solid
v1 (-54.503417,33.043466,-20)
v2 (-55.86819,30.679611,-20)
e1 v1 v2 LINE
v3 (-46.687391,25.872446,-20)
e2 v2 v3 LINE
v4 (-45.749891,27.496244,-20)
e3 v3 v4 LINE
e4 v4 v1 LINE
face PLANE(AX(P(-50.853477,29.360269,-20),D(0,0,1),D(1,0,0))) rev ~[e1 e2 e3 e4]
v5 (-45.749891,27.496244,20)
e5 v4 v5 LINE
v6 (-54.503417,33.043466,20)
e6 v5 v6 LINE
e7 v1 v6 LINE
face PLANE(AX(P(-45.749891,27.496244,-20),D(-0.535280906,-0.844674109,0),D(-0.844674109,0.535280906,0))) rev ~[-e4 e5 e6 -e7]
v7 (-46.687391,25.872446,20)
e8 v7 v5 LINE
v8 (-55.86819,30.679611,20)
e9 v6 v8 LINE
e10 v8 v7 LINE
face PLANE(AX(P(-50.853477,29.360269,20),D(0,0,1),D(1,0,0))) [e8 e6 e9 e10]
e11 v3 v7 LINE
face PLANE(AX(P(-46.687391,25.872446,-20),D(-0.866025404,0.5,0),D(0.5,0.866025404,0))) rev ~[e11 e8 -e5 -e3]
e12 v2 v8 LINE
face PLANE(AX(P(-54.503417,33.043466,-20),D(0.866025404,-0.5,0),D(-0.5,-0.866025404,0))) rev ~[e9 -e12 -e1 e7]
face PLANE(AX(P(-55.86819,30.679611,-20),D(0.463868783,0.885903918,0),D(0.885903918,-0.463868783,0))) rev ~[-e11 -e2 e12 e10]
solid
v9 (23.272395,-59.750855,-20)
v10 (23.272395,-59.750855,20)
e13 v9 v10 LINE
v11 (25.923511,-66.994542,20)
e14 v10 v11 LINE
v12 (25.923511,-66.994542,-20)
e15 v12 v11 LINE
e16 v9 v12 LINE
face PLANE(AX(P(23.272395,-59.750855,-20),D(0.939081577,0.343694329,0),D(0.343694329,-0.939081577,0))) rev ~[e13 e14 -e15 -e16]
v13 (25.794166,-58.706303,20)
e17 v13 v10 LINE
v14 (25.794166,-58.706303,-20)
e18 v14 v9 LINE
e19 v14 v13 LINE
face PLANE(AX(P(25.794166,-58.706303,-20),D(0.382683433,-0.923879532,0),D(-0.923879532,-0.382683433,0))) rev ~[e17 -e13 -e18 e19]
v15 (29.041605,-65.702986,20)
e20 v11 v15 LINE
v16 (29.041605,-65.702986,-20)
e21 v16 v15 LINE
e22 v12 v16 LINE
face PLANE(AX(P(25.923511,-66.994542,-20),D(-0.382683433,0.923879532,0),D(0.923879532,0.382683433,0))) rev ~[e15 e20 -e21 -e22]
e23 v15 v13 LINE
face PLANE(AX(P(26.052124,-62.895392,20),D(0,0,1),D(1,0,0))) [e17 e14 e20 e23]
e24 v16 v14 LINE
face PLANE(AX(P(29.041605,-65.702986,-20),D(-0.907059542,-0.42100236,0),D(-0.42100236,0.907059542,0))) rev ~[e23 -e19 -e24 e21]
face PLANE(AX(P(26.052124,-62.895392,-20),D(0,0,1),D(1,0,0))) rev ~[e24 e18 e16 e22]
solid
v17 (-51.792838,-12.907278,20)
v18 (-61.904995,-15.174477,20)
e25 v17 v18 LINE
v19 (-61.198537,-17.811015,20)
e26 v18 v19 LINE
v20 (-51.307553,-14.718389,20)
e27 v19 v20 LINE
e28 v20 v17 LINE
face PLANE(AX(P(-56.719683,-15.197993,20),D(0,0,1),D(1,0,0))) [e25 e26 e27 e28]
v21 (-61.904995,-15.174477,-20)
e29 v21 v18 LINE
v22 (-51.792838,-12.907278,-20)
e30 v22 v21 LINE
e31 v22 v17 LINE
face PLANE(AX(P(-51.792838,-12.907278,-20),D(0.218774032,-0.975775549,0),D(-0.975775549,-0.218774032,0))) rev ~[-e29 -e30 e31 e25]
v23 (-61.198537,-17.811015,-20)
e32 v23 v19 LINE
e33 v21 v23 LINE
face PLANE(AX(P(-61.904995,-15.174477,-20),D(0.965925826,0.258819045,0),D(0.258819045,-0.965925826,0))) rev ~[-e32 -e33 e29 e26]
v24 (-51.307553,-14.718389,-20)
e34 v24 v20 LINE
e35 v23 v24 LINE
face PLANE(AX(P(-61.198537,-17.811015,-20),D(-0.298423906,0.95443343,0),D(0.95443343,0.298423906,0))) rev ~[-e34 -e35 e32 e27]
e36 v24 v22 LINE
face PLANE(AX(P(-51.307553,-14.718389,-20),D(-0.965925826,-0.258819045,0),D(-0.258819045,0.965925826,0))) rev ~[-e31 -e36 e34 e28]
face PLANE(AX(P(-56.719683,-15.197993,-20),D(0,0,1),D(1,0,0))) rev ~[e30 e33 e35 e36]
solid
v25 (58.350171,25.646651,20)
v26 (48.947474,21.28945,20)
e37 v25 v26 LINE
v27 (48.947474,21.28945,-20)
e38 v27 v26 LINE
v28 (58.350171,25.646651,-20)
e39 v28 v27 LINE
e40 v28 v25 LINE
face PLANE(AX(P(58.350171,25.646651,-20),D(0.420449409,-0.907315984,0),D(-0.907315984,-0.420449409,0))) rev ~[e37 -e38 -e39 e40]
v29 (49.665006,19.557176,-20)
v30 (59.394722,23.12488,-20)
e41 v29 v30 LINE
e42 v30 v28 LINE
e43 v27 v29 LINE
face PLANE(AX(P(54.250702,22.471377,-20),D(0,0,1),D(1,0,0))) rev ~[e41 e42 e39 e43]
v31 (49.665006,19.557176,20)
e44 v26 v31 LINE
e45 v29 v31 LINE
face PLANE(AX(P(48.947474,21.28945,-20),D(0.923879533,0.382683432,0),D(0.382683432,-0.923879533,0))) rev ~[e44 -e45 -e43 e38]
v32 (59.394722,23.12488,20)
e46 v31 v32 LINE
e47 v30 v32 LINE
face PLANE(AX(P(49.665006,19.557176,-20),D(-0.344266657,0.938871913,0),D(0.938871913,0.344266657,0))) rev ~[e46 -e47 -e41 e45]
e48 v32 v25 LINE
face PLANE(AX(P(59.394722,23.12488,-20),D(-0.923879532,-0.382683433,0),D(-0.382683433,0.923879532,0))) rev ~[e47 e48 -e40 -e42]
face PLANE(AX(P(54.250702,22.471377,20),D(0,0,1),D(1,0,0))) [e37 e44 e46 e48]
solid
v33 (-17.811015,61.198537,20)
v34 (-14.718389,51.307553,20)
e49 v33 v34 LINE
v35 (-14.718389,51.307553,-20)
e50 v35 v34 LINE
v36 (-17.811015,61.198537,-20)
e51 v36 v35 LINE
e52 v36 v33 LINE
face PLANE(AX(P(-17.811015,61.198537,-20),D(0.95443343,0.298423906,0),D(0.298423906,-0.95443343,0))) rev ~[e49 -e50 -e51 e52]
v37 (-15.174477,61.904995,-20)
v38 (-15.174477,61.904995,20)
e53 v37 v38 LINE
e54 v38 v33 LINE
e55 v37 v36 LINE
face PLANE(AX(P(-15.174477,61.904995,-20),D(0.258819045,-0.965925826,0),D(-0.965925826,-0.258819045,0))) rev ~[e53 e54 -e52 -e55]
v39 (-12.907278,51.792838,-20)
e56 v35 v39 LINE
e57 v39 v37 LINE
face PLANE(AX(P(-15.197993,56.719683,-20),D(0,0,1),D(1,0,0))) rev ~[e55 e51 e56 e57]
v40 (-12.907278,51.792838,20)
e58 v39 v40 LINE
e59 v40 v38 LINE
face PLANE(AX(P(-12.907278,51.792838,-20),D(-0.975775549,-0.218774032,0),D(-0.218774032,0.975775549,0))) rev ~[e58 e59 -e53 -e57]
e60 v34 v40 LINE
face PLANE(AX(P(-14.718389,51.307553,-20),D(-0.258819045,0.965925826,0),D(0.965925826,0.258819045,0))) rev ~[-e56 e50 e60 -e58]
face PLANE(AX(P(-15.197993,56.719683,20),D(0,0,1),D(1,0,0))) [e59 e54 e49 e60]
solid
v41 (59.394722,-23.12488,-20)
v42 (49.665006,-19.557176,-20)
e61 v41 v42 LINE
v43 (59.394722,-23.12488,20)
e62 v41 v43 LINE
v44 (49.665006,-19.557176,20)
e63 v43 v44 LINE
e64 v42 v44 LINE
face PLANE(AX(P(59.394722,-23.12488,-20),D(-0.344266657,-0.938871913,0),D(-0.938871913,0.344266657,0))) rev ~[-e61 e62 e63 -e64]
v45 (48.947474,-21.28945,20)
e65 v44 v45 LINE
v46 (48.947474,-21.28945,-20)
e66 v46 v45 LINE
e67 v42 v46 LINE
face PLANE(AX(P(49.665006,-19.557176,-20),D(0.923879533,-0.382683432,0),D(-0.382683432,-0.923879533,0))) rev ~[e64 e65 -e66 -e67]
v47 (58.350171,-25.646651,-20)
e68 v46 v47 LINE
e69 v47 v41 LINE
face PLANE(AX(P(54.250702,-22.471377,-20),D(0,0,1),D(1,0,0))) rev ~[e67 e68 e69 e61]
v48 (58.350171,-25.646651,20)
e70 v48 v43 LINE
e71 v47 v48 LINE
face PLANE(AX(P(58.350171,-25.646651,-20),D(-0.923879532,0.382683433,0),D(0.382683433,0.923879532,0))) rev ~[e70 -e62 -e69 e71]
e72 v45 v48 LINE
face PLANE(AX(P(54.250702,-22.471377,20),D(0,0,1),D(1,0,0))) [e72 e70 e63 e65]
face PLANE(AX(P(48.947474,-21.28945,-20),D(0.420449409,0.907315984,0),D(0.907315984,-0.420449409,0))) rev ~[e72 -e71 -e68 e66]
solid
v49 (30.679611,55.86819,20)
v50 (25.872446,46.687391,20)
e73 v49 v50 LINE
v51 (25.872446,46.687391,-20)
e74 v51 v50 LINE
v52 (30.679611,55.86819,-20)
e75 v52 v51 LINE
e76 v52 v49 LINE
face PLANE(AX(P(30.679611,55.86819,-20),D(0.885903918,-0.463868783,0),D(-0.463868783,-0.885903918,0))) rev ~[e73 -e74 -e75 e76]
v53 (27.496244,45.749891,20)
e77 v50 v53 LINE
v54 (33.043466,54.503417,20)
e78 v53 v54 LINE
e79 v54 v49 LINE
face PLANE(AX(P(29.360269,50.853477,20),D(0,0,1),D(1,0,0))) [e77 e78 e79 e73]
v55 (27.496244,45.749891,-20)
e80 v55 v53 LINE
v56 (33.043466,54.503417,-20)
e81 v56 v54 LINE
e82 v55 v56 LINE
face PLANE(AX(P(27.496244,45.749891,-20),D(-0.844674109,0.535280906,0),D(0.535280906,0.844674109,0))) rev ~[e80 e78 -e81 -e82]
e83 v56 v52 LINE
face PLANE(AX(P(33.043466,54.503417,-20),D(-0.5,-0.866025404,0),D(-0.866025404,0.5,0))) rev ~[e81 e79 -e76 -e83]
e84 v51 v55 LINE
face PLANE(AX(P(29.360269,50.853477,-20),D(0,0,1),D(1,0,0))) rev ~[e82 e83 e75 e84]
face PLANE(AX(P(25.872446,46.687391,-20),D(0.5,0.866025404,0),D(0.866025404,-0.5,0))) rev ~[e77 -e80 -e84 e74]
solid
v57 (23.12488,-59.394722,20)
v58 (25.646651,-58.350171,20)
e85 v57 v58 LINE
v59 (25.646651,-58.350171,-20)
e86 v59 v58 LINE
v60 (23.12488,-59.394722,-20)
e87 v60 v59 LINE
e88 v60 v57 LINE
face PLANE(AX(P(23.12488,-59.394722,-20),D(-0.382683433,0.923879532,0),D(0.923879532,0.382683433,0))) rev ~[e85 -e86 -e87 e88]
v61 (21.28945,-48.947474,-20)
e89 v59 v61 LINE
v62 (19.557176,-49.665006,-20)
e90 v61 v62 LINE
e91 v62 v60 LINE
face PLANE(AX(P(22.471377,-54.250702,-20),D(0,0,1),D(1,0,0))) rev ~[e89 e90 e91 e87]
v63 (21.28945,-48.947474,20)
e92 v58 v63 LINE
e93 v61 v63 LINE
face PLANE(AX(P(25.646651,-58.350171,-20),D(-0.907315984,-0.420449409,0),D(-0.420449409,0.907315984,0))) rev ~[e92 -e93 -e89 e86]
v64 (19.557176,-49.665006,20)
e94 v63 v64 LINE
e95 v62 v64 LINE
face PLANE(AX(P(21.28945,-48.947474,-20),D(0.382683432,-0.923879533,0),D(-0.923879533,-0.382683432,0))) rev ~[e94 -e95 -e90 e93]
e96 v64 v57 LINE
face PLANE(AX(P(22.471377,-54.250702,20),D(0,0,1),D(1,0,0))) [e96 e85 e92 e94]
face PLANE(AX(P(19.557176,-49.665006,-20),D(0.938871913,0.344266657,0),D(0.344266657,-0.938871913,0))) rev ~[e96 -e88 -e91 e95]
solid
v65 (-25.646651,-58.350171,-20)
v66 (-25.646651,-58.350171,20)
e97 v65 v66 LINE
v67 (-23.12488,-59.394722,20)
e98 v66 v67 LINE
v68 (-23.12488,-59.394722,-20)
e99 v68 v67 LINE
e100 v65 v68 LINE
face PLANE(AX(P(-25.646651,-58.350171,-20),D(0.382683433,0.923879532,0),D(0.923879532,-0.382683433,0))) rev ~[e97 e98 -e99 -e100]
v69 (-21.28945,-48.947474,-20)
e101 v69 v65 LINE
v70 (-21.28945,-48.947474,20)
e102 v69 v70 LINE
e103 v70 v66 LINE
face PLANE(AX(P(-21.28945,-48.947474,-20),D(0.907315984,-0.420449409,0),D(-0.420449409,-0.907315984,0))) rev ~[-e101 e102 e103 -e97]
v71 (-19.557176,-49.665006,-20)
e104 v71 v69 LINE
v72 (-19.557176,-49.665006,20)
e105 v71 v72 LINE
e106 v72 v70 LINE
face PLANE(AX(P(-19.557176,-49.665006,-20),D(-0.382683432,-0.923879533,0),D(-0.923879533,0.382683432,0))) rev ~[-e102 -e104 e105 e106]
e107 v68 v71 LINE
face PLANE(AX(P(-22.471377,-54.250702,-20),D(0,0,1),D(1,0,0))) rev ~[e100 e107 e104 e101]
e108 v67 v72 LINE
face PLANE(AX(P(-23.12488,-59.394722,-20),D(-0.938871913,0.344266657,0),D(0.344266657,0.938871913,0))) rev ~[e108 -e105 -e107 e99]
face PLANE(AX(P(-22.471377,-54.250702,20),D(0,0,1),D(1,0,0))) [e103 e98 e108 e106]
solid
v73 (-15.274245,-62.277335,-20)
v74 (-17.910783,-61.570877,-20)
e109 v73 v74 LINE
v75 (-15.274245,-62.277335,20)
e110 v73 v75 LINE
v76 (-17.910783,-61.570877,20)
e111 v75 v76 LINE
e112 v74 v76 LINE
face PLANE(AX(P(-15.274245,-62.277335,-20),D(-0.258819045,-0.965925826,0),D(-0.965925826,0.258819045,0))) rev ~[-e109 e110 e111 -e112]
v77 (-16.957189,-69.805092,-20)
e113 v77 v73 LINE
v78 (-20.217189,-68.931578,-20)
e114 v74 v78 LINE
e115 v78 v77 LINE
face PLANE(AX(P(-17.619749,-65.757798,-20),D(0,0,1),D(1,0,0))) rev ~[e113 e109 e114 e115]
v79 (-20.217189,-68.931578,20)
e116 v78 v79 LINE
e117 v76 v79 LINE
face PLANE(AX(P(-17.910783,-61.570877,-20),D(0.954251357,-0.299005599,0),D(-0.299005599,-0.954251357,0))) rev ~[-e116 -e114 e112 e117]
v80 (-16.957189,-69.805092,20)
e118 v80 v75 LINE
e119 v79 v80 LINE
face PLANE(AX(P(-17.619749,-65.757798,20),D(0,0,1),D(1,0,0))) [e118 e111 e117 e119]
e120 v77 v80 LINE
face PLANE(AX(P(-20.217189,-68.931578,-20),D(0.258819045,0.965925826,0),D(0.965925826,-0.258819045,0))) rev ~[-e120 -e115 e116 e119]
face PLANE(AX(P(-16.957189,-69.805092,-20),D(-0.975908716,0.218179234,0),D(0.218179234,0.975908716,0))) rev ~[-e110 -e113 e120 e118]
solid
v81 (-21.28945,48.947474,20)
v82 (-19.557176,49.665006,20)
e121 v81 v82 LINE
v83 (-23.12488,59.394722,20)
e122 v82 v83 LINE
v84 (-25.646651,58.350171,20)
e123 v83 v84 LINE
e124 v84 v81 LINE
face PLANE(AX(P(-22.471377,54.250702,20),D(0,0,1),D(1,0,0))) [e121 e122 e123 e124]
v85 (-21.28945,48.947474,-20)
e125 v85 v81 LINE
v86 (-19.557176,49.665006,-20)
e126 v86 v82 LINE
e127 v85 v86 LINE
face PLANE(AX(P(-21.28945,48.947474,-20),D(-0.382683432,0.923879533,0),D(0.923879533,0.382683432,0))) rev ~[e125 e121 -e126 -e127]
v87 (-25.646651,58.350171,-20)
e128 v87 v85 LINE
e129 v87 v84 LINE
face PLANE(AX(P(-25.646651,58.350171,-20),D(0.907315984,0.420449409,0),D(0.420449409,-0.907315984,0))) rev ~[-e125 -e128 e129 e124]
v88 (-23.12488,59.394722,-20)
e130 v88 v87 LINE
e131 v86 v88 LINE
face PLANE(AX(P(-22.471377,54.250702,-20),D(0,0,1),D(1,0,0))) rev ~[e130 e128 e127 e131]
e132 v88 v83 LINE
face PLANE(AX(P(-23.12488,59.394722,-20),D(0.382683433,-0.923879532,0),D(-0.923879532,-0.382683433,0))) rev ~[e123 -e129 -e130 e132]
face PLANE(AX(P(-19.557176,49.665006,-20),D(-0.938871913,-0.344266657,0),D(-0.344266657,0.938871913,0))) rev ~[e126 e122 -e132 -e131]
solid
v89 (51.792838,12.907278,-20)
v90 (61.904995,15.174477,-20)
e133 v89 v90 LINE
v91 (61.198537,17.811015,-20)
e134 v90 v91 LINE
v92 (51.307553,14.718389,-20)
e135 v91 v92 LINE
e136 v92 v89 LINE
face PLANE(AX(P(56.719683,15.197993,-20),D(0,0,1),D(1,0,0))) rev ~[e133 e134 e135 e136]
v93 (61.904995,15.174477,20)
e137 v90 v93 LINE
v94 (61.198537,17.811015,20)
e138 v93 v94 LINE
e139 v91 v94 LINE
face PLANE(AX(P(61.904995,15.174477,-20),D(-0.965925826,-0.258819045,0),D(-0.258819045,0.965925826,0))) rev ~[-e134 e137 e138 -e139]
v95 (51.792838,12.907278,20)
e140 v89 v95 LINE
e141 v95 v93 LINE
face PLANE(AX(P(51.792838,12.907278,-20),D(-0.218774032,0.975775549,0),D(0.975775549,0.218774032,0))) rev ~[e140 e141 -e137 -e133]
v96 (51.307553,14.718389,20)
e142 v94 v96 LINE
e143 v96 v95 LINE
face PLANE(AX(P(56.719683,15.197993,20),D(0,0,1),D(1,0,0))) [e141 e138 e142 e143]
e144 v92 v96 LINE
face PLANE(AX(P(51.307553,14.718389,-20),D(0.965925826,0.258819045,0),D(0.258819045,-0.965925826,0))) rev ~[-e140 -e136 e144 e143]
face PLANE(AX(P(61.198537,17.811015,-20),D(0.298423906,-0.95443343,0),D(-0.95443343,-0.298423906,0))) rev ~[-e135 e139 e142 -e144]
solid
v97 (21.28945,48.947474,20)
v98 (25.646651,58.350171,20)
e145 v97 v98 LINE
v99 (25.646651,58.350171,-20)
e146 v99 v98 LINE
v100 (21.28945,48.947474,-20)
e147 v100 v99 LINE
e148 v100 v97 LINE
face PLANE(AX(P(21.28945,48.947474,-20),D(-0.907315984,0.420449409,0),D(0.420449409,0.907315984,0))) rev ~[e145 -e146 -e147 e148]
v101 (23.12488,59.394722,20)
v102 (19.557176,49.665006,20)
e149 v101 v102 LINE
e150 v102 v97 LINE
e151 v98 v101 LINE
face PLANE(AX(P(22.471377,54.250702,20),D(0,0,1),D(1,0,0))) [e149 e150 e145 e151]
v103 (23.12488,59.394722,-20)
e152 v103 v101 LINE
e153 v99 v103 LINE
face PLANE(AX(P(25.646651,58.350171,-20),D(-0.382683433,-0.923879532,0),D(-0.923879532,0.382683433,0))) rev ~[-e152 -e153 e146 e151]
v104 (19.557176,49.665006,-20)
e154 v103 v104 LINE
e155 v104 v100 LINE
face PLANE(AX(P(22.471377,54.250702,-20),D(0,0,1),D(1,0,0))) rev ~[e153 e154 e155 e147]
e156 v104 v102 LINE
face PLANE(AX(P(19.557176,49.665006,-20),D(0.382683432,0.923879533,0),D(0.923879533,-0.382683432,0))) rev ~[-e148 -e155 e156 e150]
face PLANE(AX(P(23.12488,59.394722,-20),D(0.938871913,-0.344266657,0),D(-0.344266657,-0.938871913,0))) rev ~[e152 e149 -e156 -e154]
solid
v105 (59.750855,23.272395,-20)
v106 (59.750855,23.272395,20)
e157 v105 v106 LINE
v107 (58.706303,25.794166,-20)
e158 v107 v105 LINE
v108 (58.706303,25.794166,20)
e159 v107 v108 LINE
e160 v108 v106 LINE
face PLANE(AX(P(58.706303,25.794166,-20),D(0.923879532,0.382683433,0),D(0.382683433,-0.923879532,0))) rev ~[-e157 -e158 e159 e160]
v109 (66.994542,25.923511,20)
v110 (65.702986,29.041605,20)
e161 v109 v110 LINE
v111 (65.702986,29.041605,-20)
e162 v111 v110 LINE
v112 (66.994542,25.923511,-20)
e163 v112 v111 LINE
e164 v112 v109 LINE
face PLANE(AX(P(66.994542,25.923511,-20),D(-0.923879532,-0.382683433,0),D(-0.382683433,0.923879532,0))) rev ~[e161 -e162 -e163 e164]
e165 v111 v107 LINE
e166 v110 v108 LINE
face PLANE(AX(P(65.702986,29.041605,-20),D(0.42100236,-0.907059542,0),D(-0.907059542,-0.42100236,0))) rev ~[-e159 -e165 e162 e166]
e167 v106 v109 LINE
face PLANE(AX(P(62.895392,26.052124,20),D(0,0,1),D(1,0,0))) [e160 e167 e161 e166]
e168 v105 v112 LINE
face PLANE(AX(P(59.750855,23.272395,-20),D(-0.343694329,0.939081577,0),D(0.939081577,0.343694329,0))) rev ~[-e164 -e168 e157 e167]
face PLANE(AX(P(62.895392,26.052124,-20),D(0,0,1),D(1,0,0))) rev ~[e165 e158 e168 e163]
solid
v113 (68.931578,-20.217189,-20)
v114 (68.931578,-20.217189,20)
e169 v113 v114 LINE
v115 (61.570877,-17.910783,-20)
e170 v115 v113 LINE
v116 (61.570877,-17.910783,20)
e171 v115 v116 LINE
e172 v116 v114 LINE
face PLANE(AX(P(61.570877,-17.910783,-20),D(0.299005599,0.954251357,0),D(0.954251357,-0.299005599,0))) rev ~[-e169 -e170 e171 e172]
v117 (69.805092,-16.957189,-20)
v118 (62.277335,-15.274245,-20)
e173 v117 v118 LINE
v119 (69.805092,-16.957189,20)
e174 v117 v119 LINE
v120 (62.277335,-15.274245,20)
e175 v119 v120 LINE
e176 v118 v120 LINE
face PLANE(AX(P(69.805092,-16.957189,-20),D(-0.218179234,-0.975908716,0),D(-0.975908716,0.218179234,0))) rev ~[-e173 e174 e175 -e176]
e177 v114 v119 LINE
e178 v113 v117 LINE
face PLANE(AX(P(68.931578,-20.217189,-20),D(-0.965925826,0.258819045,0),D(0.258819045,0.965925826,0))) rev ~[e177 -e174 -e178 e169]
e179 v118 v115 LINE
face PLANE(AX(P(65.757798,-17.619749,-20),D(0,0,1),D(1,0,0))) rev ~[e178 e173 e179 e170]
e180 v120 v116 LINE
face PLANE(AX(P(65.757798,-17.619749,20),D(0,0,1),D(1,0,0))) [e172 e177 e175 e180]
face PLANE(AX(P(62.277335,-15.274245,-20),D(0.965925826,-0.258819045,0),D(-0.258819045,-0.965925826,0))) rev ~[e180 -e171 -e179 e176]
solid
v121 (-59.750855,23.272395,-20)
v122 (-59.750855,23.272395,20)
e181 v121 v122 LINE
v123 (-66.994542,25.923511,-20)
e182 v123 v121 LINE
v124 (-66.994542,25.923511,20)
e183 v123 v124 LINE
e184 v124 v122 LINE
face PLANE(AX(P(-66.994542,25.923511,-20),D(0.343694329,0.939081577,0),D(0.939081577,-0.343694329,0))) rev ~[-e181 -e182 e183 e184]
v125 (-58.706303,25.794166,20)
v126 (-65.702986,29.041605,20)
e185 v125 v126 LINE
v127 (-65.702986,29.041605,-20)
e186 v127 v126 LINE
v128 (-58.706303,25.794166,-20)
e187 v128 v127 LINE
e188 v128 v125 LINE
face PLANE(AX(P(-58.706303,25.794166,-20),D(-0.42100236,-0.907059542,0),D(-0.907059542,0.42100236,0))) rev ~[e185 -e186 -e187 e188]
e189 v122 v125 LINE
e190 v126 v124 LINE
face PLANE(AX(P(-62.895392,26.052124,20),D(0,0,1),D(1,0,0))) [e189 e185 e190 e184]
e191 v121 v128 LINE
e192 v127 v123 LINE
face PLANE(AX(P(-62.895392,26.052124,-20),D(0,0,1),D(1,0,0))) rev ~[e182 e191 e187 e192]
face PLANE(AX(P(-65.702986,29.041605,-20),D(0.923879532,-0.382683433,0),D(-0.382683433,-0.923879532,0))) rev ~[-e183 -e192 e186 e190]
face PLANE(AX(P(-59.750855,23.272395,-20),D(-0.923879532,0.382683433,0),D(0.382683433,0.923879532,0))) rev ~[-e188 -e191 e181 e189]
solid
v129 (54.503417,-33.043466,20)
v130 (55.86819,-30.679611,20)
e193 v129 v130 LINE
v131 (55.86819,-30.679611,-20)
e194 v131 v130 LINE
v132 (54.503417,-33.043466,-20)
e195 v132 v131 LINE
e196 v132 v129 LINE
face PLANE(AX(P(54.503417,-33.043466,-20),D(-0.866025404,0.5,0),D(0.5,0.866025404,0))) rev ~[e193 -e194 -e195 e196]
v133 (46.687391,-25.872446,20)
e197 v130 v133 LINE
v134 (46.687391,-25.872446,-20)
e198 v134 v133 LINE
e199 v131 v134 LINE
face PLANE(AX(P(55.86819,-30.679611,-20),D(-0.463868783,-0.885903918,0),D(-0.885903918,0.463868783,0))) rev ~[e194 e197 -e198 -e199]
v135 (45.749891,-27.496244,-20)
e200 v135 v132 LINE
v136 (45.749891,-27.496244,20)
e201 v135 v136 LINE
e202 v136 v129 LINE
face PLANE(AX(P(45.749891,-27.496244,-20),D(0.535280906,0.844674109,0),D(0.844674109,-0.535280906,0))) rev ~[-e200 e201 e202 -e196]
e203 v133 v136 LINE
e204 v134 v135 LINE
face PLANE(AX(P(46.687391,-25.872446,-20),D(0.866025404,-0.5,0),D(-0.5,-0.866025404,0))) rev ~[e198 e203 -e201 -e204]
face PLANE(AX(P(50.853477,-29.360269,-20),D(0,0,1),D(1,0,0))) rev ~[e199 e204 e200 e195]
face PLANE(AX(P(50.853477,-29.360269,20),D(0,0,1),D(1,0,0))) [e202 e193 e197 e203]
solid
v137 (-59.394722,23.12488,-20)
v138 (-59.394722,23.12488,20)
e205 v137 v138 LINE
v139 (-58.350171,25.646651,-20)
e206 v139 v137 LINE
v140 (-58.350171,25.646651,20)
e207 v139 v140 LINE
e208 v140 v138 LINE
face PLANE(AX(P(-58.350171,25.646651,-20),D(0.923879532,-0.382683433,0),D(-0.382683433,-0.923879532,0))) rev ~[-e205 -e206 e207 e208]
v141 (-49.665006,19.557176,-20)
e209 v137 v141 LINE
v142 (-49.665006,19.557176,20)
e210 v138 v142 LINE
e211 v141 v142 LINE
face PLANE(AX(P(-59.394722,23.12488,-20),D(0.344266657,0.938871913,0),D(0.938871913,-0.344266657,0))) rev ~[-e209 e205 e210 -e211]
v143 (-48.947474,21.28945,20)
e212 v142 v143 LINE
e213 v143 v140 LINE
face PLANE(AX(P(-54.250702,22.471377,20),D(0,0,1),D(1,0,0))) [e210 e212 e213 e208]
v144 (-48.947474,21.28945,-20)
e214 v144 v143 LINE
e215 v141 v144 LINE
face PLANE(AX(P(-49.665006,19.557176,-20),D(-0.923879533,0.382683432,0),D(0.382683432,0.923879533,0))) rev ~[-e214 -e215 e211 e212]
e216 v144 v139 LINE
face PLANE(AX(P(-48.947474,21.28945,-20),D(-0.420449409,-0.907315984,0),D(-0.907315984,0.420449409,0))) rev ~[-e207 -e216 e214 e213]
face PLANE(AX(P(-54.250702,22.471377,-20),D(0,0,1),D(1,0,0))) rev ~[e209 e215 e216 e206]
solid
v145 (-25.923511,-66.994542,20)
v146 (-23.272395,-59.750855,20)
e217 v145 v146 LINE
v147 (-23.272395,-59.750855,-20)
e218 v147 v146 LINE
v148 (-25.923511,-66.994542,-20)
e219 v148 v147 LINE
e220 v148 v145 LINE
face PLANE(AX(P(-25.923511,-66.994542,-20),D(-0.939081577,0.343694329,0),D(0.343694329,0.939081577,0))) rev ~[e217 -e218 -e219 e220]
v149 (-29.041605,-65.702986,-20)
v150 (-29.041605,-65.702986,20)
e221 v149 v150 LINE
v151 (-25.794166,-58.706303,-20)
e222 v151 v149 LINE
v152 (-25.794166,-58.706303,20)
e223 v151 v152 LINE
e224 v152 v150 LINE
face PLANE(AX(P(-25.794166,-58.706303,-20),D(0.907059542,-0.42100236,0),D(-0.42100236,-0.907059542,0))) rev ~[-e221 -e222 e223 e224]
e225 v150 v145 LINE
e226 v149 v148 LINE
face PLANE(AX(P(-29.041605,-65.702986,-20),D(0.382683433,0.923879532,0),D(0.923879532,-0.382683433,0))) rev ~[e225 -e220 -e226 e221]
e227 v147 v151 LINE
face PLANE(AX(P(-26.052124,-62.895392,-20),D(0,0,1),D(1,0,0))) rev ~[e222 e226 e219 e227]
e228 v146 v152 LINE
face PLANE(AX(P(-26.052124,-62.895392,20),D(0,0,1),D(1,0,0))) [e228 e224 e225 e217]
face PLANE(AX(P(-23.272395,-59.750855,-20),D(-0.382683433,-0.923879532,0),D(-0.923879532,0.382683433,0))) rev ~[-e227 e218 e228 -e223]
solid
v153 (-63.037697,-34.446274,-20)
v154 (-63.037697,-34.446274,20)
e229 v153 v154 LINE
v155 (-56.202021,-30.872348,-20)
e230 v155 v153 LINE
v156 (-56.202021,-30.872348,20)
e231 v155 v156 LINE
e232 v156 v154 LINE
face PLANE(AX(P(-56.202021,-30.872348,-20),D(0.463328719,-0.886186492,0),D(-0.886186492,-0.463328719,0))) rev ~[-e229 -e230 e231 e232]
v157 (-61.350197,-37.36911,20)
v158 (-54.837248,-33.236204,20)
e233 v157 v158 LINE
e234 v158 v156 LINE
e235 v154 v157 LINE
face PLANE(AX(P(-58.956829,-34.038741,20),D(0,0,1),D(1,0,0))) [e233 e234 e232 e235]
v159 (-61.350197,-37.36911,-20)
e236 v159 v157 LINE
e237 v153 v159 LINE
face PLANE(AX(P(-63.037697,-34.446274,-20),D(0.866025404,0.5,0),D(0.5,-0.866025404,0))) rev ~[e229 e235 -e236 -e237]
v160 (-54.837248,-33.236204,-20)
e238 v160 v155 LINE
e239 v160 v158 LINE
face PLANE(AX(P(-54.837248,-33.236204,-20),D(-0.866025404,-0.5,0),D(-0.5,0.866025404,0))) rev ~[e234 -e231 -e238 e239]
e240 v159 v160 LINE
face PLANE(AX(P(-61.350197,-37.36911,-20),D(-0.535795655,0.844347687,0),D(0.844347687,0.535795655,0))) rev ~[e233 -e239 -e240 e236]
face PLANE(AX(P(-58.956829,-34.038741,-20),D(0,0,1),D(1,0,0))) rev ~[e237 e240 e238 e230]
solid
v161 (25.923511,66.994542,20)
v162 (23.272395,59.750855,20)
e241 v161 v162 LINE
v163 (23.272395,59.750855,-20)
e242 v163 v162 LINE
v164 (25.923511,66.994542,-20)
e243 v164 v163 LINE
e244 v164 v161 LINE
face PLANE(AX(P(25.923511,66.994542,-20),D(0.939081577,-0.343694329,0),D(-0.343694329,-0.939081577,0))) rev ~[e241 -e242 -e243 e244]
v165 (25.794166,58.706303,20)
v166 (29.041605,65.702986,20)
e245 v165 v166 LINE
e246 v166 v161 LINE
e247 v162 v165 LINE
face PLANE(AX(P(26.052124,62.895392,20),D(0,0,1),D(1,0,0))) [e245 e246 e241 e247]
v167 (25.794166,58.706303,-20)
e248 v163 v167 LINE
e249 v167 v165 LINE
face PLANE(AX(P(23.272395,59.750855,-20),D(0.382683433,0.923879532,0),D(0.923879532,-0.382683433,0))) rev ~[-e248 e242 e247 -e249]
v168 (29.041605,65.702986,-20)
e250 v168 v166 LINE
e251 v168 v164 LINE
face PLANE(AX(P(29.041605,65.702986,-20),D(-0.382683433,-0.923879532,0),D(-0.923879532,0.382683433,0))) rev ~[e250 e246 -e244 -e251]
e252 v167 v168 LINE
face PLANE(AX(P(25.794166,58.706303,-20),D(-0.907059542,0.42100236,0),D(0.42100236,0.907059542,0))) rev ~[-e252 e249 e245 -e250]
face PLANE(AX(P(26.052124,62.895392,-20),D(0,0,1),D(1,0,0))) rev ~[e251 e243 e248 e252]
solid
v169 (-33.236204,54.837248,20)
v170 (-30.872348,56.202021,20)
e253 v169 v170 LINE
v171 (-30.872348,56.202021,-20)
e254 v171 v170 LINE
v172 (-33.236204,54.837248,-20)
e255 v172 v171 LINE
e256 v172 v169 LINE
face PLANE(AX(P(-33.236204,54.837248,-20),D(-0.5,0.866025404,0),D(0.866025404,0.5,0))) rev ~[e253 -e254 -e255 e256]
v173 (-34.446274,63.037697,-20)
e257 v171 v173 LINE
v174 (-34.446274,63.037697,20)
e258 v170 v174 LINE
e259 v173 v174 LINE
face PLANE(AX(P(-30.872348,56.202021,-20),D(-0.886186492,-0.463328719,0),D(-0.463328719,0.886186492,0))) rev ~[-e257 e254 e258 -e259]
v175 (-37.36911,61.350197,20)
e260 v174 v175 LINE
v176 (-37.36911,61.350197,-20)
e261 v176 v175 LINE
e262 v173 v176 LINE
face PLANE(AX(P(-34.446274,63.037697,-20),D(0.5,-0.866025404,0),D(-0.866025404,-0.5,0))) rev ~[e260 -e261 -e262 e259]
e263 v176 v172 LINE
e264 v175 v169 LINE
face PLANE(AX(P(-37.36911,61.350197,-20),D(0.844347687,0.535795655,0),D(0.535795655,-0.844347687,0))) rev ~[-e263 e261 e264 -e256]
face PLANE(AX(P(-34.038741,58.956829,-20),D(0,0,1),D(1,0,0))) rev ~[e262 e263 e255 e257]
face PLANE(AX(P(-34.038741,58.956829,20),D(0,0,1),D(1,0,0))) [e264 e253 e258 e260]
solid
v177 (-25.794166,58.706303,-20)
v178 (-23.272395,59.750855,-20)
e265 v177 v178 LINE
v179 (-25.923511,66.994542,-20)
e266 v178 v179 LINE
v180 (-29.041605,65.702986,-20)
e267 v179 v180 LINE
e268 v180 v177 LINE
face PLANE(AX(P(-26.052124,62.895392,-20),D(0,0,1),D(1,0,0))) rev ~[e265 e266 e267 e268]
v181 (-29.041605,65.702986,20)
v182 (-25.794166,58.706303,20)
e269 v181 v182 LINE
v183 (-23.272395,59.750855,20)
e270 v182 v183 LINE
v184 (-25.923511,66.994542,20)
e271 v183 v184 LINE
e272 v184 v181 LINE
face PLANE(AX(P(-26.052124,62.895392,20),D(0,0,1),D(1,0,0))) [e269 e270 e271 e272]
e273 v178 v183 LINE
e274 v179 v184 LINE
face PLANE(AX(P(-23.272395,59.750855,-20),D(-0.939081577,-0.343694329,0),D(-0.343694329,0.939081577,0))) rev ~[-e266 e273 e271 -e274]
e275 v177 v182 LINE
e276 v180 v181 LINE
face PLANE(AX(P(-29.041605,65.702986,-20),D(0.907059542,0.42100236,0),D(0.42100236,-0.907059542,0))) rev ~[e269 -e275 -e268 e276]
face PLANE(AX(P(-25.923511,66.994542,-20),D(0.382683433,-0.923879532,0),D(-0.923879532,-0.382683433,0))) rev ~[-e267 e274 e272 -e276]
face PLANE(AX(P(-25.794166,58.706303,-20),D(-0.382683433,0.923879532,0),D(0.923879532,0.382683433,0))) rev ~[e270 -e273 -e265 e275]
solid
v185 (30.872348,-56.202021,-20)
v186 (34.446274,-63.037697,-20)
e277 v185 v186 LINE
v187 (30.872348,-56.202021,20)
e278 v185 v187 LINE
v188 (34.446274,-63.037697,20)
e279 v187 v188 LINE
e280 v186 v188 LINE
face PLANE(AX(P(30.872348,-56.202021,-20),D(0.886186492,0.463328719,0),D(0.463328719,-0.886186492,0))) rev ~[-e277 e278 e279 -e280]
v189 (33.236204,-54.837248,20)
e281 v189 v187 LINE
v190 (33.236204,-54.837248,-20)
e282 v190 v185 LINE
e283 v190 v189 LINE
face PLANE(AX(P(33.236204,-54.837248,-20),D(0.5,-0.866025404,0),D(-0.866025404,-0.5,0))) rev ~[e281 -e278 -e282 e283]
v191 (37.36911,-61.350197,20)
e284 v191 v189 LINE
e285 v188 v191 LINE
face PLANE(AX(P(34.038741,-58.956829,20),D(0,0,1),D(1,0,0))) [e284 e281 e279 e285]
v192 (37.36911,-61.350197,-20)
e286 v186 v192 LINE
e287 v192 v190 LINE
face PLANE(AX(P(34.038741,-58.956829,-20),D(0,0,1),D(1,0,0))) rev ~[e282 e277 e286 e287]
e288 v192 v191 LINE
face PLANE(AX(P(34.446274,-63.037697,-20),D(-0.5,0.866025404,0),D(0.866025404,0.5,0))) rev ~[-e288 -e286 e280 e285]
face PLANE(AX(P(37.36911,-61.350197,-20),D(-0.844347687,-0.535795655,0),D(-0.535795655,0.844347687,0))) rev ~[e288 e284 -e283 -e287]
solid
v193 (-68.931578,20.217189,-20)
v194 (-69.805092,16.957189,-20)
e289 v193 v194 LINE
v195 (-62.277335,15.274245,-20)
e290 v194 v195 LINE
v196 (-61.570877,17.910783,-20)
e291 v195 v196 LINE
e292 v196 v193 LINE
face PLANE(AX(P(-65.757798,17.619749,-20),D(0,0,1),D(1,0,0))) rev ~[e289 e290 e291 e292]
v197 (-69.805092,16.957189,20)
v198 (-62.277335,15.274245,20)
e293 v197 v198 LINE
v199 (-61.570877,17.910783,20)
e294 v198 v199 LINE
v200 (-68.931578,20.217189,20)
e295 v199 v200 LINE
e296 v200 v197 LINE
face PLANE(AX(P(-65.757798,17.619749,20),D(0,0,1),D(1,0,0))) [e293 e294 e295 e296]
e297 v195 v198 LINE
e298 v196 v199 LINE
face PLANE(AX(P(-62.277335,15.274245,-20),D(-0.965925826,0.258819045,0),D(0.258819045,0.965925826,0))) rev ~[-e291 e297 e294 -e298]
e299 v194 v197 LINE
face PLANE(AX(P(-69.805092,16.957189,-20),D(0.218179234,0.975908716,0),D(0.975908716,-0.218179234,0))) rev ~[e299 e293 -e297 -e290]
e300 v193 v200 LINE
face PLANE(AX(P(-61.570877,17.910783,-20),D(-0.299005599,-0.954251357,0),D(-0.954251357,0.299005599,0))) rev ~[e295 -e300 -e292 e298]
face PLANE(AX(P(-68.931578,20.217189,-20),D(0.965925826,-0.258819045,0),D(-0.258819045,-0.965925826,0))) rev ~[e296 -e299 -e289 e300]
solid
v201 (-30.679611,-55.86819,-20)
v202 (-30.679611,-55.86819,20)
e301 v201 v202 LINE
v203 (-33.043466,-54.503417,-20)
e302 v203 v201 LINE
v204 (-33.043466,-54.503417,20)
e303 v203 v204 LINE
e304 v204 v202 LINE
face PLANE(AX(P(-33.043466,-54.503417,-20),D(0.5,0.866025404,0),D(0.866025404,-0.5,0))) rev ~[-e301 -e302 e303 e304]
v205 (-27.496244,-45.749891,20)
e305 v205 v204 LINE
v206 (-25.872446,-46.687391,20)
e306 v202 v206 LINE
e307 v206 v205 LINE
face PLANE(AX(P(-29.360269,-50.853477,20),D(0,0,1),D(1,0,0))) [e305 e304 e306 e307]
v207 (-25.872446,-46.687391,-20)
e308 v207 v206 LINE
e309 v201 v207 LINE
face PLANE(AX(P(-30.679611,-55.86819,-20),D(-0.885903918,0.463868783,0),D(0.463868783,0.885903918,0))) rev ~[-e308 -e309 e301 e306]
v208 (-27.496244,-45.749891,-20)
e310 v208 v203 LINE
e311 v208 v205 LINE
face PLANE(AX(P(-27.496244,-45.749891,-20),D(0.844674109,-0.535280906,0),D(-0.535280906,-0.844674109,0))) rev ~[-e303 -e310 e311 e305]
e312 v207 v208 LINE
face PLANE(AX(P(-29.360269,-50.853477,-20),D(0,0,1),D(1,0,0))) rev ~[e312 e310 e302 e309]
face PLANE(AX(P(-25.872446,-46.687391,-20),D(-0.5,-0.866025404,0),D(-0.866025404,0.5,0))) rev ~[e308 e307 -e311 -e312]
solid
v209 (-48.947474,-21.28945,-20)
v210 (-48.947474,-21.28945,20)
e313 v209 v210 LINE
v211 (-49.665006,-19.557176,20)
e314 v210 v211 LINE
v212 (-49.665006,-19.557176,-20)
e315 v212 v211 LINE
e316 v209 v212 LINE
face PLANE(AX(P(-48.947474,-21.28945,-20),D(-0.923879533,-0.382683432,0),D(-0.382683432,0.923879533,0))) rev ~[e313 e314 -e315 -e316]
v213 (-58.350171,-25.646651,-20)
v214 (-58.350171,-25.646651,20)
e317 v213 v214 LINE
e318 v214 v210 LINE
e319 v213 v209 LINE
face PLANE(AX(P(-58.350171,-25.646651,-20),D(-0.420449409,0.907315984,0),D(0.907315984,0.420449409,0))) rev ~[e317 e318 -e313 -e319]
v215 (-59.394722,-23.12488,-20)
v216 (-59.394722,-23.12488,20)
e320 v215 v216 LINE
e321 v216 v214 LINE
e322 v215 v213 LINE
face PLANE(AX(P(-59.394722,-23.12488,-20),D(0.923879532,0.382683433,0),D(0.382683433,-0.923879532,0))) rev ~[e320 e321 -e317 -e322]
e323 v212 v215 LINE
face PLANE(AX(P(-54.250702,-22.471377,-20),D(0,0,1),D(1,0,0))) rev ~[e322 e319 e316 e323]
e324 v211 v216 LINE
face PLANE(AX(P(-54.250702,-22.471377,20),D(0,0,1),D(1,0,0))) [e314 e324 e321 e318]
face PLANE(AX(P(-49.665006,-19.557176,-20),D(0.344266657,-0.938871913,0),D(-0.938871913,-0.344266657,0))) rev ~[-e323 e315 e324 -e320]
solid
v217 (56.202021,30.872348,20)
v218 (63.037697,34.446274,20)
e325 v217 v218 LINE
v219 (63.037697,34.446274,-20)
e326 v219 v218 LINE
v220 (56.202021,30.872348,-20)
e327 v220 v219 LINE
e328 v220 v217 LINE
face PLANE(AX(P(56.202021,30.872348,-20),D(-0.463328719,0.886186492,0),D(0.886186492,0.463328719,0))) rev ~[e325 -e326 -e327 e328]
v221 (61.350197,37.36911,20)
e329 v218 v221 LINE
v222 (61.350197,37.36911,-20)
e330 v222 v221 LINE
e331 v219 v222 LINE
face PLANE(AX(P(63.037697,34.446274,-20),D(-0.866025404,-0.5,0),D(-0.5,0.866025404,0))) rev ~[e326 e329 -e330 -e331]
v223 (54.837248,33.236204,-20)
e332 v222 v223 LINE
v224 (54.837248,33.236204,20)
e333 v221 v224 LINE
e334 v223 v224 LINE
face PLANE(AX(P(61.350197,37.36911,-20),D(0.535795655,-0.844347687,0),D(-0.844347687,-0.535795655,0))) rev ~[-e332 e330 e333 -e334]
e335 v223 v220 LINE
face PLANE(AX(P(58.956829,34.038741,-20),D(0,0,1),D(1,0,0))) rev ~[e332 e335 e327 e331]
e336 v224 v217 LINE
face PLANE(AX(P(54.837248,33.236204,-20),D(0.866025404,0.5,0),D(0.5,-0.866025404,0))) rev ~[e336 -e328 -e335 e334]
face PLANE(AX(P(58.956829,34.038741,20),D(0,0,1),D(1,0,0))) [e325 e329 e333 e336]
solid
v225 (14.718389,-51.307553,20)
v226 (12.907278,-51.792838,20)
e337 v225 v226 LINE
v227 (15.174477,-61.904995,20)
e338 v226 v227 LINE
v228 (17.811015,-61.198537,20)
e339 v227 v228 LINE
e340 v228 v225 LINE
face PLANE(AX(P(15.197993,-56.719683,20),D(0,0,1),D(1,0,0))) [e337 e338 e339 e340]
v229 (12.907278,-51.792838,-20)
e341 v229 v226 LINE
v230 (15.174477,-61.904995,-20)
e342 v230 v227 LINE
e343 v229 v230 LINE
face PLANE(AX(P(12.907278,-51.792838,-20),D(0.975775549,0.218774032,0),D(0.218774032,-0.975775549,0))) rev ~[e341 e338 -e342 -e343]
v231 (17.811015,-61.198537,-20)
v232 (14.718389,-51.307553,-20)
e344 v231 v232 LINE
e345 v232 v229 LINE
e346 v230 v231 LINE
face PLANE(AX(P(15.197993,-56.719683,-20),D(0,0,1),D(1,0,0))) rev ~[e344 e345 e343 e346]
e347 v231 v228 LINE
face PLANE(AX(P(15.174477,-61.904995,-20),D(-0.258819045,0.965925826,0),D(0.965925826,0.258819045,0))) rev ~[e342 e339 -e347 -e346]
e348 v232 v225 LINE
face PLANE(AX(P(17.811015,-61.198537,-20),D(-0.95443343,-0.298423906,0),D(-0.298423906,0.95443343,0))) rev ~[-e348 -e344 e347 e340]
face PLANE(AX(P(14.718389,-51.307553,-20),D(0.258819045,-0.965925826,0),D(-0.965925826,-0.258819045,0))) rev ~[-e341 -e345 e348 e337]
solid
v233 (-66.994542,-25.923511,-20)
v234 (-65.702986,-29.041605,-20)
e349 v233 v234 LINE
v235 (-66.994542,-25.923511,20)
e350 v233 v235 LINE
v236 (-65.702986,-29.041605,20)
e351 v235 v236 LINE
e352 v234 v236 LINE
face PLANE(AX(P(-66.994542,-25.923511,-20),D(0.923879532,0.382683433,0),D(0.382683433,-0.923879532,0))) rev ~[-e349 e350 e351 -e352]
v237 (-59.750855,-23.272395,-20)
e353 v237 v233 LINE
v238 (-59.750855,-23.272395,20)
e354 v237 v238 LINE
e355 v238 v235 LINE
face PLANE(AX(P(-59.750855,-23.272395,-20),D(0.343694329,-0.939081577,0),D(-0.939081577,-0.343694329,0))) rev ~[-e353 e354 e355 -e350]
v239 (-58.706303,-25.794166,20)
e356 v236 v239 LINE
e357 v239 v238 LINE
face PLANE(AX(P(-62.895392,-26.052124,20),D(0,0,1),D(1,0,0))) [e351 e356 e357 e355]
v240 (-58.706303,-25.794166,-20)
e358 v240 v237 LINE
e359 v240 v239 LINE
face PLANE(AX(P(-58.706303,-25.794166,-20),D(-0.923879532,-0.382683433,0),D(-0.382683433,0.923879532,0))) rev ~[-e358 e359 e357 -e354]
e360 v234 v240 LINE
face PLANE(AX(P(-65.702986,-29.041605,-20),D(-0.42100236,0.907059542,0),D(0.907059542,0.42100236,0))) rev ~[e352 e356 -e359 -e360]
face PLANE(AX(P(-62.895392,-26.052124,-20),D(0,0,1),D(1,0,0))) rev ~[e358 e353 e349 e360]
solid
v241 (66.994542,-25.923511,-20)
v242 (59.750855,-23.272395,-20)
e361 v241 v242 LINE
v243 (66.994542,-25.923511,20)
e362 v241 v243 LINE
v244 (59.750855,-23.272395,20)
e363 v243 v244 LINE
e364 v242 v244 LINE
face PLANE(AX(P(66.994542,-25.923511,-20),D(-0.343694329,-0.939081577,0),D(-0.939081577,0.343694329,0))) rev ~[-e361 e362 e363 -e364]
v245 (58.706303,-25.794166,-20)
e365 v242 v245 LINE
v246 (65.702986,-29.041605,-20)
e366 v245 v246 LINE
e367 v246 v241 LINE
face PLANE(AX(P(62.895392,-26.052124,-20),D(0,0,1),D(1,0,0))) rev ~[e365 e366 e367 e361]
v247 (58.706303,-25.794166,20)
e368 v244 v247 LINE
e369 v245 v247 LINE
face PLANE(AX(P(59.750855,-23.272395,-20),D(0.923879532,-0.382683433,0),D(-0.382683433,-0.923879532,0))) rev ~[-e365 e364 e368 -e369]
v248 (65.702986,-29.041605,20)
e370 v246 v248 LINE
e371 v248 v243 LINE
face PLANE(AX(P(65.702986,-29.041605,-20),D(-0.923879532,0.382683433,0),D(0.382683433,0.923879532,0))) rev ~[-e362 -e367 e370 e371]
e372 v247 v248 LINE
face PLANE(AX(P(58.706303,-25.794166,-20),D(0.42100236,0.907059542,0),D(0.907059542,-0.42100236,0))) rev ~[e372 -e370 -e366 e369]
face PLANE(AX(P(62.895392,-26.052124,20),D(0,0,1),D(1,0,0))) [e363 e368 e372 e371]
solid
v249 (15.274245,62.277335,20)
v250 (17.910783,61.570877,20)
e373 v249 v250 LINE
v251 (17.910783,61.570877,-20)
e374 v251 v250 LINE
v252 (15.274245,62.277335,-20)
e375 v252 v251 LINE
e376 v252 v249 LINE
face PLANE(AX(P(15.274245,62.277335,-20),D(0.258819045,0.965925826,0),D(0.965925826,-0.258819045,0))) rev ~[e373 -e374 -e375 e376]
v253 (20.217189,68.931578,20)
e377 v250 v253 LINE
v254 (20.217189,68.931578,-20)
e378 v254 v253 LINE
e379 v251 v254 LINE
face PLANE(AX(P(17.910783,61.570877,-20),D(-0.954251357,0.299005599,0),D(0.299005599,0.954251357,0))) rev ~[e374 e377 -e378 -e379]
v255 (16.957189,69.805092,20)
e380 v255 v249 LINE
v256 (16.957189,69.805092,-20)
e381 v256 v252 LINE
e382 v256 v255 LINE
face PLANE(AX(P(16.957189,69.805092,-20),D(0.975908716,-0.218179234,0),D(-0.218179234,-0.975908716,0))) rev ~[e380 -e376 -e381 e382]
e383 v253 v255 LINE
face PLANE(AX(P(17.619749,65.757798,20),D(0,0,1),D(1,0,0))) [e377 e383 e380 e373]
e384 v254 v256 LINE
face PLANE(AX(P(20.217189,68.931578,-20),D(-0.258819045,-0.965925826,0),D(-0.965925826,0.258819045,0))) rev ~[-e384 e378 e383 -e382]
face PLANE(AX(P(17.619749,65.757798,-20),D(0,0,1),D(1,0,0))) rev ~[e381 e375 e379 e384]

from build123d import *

# Parameters (mm, degrees)
SLOT_COPPER_ENVELOPES_START    = -20
SLOT_COPPER_ENVELOPES_DEPTH    = 40
SLOT_COPPER_ENVELOPES_2_DEPTH  = 40
SLOT_COPPER_ENVELOPES_3_DEPTH  = 40
SLOT_COPPER_ENVELOPES_4_DEPTH  = 40
SLOT_COPPER_ENVELOPES_5_DEPTH  = 40
SLOT_COPPER_ENVELOPES_6_DEPTH  = 40
SLOT_COPPER_ENVELOPES_7_DEPTH  = 40
SLOT_COPPER_ENVELOPES_8_DEPTH  = 40
SLOT_COPPER_ENVELOPES_9_DEPTH  = 40
SLOT_COPPER_ENVELOPES_10_DEPTH = 40
SLOT_COPPER_ENVELOPES_11_DEPTH = 40
SLOT_COPPER_ENVELOPES_12_DEPTH = 40
SLOT_COPPER_ENVELOPES_13_DEPTH = 40
SLOT_COPPER_ENVELOPES_14_DEPTH = 40
SLOT_COPPER_ENVELOPES_15_DEPTH = 40
SLOT_COPPER_ENVELOPES_16_DEPTH = 40
SLOT_COPPER_ENVELOPES_17_DEPTH = 40
SLOT_COPPER_ENVELOPES_18_DEPTH = 40
SLOT_COPPER_ENVELOPES_19_DEPTH = 40
SLOT_COPPER_ENVELOPES_20_DEPTH = 40
SLOT_COPPER_ENVELOPES_21_DEPTH = 40
SLOT_COPPER_ENVELOPES_22_DEPTH = 40
SLOT_COPPER_ENVELOPES_23_DEPTH = 40
SLOT_COPPER_ENVELOPES_24_DEPTH = 40
SLOT_COPPER_ENVELOPES_25_DEPTH = 40
SLOT_COPPER_ENVELOPES_26_DEPTH = 40
SLOT_COPPER_ENVELOPES_27_DEPTH = 40
SLOT_COPPER_ENVELOPES_28_DEPTH = 40
SLOT_COPPER_ENVELOPES_29_DEPTH = 40
SLOT_COPPER_ENVELOPES_30_DEPTH = 40
SLOT_COPPER_ENVELOPES_31_DEPTH = 40
SLOT_COPPER_ENVELOPES_32_DEPTH = 40


with BuildPart() as part:
    # Эскиз1 → Slot_copper_envelopes (new body)
    with BuildSketch(Plane.XY.offset(SLOT_COPPER_ENVELOPES_START)):
        Polygon((51.792838285, 12.907277773), (61.904994905, 15.174476696), (61.198536557, 17.811015145), (51.307552576, 14.718388697), align=None)
    extrude(amount=SLOT_COPPER_ENVELOPES_DEPTH)


with BuildPart() as body_2:
    # Эскиз1 → Slot_copper_envelopes 2 (new body)
    with BuildSketch(Plane.XY.offset(SLOT_COPPER_ENVELOPES_START)):
        Polygon((59.750854603, 23.272394985), (66.994542258, 25.92351117), (65.702985673, 29.041604592), (58.706302779, 25.794166163), align=None)
    extrude(amount=SLOT_COPPER_ENVELOPES_2_DEPTH)


with BuildPart() as body_3:
    # Эскиз1 → Slot_copper_envelopes 3 (new body)
    with BuildSketch(Plane.XY.offset(SLOT_COPPER_ENVELOPES_START)):
        Polygon((49.665005554, 19.557176188), (59.39472243, 23.124880209), (58.350170606, 25.646651387), (48.947474119, 21.289450312), align=None)
    extrude(amount=SLOT_COPPER_ENVELOPES_3_DEPTH)


with BuildPart() as body_4:
    # Эскиз1 → Slot_copper_envelopes 4 (new body)
    with BuildSketch(Plane.XY.offset(SLOT_COPPER_ENVELOPES_START)):
        Polygon((56.202020657, 30.872347953), (63.037697459, 34.446274439), (61.350197459, 37.369110177), (54.83724793, 33.236203657), align=None)
    extrude(amount=SLOT_COPPER_ENVELOPES_4_DEPTH)


with BuildPart() as body_5:
    # Эскиз1 → Slot_copper_envelopes 5 (new body)
    with BuildSketch(Plane.XY.offset(SLOT_COPPER_ENVELOPES_START)):
        Polygon((27.496243528, 45.749890808), (33.043466314, 54.503417059), (30.679610609, 55.868189786), (25.872445896, 46.687390808), align=None)
    extrude(amount=SLOT_COPPER_ENVELOPES_5_DEPTH)


with BuildPart() as body_6:
    # Эскиз1 → Slot_copper_envelopes 6 (new body)
    with BuildSketch(Plane.XY.offset(SLOT_COPPER_ENVELOPES_START)):
        Polygon((25.794166163, 58.706302779), (29.041604592, 65.702985673), (25.92351117, 66.994542258), (23.272394985, 59.750854603), align=None)
    extrude(amount=SLOT_COPPER_ENVELOPES_6_DEPTH)


with BuildPart() as body_7:
    # Эскиз1 → Slot_copper_envelopes 7 (new body)
    with BuildSketch(Plane.XY.offset(SLOT_COPPER_ENVELOPES_START)):
        Polygon((21.289450312, 48.947474119), (25.646651387, 58.350170606), (23.124880209, 59.39472243), (19.557176188, 49.665005554), align=None)
    extrude(amount=SLOT_COPPER_ENVELOPES_7_DEPTH)


with BuildPart() as body_8:
    # Эскиз1 → Slot_copper_envelopes 8 (new body)
    with BuildSketch(Plane.XY.offset(SLOT_COPPER_ENVELOPES_START)):
        Polygon((17.910783335, 61.570876512), (20.217189102, 68.931577586), (16.957189438, 69.805091863), (15.274244886, 62.27733486), align=None)
    extrude(amount=SLOT_COPPER_ENVELOPES_8_DEPTH)


with BuildPart() as body_9:
    # Эскиз1 → Slot_copper_envelopes 9 (new body)
    with BuildSketch(Plane.XY.offset(SLOT_COPPER_ENVELOPES_START)):
        Polygon((-12.907277773, 51.792838285), (-15.174476696, 61.904994905), (-17.811015145, 61.198536557), (-14.718388697, 51.307552576), align=None)
    extrude(amount=SLOT_COPPER_ENVELOPES_9_DEPTH)


with BuildPart() as body_10:
    # Эскиз1 → Slot_copper_envelopes 10 (new body)
    with BuildSketch(Plane.XY.offset(SLOT_COPPER_ENVELOPES_START)):
        Polygon((-23.272394985, 59.750854603), (-25.92351117, 66.994542258), (-29.041604592, 65.702985673), (-25.794166163, 58.706302779), align=None)
    extrude(amount=SLOT_COPPER_ENVELOPES_10_DEPTH)


with BuildPart() as body_11:
    # Эскиз1 → Slot_copper_envelopes 11 (new body)
    with BuildSketch(Plane.XY.offset(SLOT_COPPER_ENVELOPES_START)):
        Polygon((-19.557176188, 49.665005554), (-23.124880209, 59.39472243), (-25.646651387, 58.350170606), (-21.289450312, 48.947474119), align=None)
    extrude(amount=SLOT_COPPER_ENVELOPES_11_DEPTH)


with BuildPart() as body_12:
    # Эскиз1 → Slot_copper_envelopes 12 (new body)
    with BuildSketch(Plane.XY.offset(SLOT_COPPER_ENVELOPES_START)):
        Polygon((-30.872347953, 56.202020657), (-34.446274439, 63.037697459), (-37.369110177, 61.350197459), (-33.236203657, 54.83724793), align=None)
    extrude(amount=SLOT_COPPER_ENVELOPES_12_DEPTH)


with BuildPart() as body_13:
    # Эскиз1 → Slot_copper_envelopes 13 (new body)
    with BuildSketch(Plane.XY.offset(SLOT_COPPER_ENVELOPES_START)):
        Polygon((-45.749890808, 27.496243528), (-54.503417059, 33.043466314), (-55.868189786, 30.679610609), (-46.687390808, 25.872445896), align=None)
    extrude(amount=SLOT_COPPER_ENVELOPES_13_DEPTH)


with BuildPart() as body_14:
    # Эскиз1 → Slot_copper_envelopes 14 (new body)
    with BuildSketch(Plane.XY.offset(SLOT_COPPER_ENVELOPES_START)):
        Polygon((-58.706302779, 25.794166163), (-65.702985673, 29.041604592), (-66.994542258, 25.92351117), (-59.750854603, 23.272394985), align=None)
    extrude(amount=SLOT_COPPER_ENVELOPES_14_DEPTH)


with BuildPart() as body_15:
    # Эскиз1 → Slot_copper_envelopes 15 (new body)
    with BuildSketch(Plane.XY.offset(SLOT_COPPER_ENVELOPES_START)):
        Polygon((-48.947474119, 21.289450312), (-58.350170606, 25.646651387), (-59.39472243, 23.124880209), (-49.665005554, 19.557176188), align=None)
    extrude(amount=SLOT_COPPER_ENVELOPES_15_DEPTH)


with BuildPart() as body_16:
    # Эскиз1 → Slot_copper_envelopes 16 (new body)
    with BuildSketch(Plane.XY.offset(SLOT_COPPER_ENVELOPES_START)):
        Polygon((-61.570876512, 17.910783335), (-68.931577586, 20.217189102), (-69.805091863, 16.957189438), (-62.27733486, 15.274244886), align=None)
    extrude(amount=SLOT_COPPER_ENVELOPES_16_DEPTH)


with BuildPart() as body_17:
    # Эскиз1 → Slot_copper_envelopes 17 (new body)
    with BuildSketch(Plane.XY.offset(SLOT_COPPER_ENVELOPES_START)):
        Polygon((-51.792838285, -12.907277773), (-61.904994905, -15.174476696), (-61.198536557, -17.811015145), (-51.307552576, -14.718388697), align=None)
    extrude(amount=SLOT_COPPER_ENVELOPES_17_DEPTH)


with BuildPart() as body_18:
    # Эскиз1 → Slot_copper_envelopes 18 (new body)
    with BuildSketch(Plane.XY.offset(SLOT_COPPER_ENVELOPES_START)):
        Polygon((-59.750854603, -23.272394985), (-66.994542258, -25.92351117), (-65.702985673, -29.041604592), (-58.706302779, -25.794166163), align=None)
    extrude(amount=SLOT_COPPER_ENVELOPES_18_DEPTH)


with BuildPart() as body_19:
    # Эскиз1 → Slot_copper_envelopes 19 (new body)
    with BuildSketch(Plane.XY.offset(SLOT_COPPER_ENVELOPES_START)):
        Polygon((-49.665005554, -19.557176188), (-59.39472243, -23.124880209), (-58.350170606, -25.646651387), (-48.947474119, -21.289450312), align=None)
    extrude(amount=SLOT_COPPER_ENVELOPES_19_DEPTH)


with BuildPart() as body_20:
    # Эскиз1 → Slot_copper_envelopes 20 (new body)
    with BuildSketch(Plane.XY.offset(SLOT_COPPER_ENVELOPES_START)):
        Polygon((-56.202020657, -30.872347953), (-63.037697459, -34.446274439), (-61.350197459, -37.369110177), (-54.83724793, -33.236203657), align=None)
    extrude(amount=SLOT_COPPER_ENVELOPES_20_DEPTH)


with BuildPart() as body_21:
    # Эскиз1 → Slot_copper_envelopes 21 (new body)
    with BuildSketch(Plane.XY.offset(SLOT_COPPER_ENVELOPES_START)):
        Polygon((-27.496243528, -45.749890808), (-33.043466314, -54.503417059), (-30.679610609, -55.868189786), (-25.872445896, -46.687390808), align=None)
    extrude(amount=SLOT_COPPER_ENVELOPES_21_DEPTH)


with BuildPart() as body_22:
    # Эскиз1 → Slot_copper_envelopes 22 (new body)
    with BuildSketch(Plane.XY.offset(SLOT_COPPER_ENVELOPES_START)):
        Polygon((-25.794166163, -58.706302779), (-29.041604592, -65.702985673), (-25.92351117, -66.994542258), (-23.272394985, -59.750854603), align=None)
    extrude(amount=SLOT_COPPER_ENVELOPES_22_DEPTH)


with BuildPart() as body_23:
    # Эскиз1 → Slot_copper_envelopes 23 (new body)
    with BuildSketch(Plane.XY.offset(SLOT_COPPER_ENVELOPES_START)):
        Polygon((-21.289450312, -48.947474119), (-25.646651387, -58.350170606), (-23.124880209, -59.39472243), (-19.557176188, -49.665005554), align=None)
    extrude(amount=SLOT_COPPER_ENVELOPES_23_DEPTH)


with BuildPart() as body_24:
    # Эскиз1 → Slot_copper_envelopes 24 (new body)
    with BuildSketch(Plane.XY.offset(SLOT_COPPER_ENVELOPES_START)):
        Polygon((-17.910783335, -61.570876512), (-20.217189102, -68.931577586), (-16.957189438, -69.805091863), (-15.274244886, -62.27733486), align=None)
    extrude(amount=SLOT_COPPER_ENVELOPES_24_DEPTH)


with BuildPart() as body_25:
    # Эскиз1 → Slot_copper_envelopes 25 (new body)
    with BuildSketch(Plane.XY.offset(SLOT_COPPER_ENVELOPES_START)):
        Polygon((12.907277773, -51.792838285), (15.174476696, -61.904994905), (17.811015145, -61.198536557), (14.718388697, -51.307552576), align=None)
    extrude(amount=SLOT_COPPER_ENVELOPES_25_DEPTH)


with BuildPart() as body_26:
    # Эскиз1 → Slot_copper_envelopes 26 (new body)
    with BuildSketch(Plane.XY.offset(SLOT_COPPER_ENVELOPES_START)):
        Polygon((23.272394985, -59.750854603), (25.92351117, -66.994542258), (29.041604592, -65.702985673), (25.794166163, -58.706302779), align=None)
    extrude(amount=SLOT_COPPER_ENVELOPES_26_DEPTH)


with BuildPart() as body_27:
    # Эскиз1 → Slot_copper_envelopes 27 (new body)
    with BuildSketch(Plane.XY.offset(SLOT_COPPER_ENVELOPES_START)):
        Polygon((19.557176188, -49.665005554), (23.124880209, -59.39472243), (25.646651387, -58.350170606), (21.289450312, -48.947474119), align=None)
    extrude(amount=SLOT_COPPER_ENVELOPES_27_DEPTH)


with BuildPart() as body_28:
    # Эскиз1 → Slot_copper_envelopes 28 (new body)
    with BuildSketch(Plane.XY.offset(SLOT_COPPER_ENVELOPES_START)):
        Polygon((30.872347953, -56.202020657), (34.446274439, -63.037697459), (37.369110177, -61.350197459), (33.236203657, -54.83724793), align=None)
    extrude(amount=SLOT_COPPER_ENVELOPES_28_DEPTH)


with BuildPart() as body_29:
    # Эскиз1 → Slot_copper_envelopes 29 (new body)
    with BuildSketch(Plane.XY.offset(SLOT_COPPER_ENVELOPES_START)):
        Polygon((45.749890808, -27.496243528), (54.503417059, -33.043466314), (55.868189786, -30.679610609), (46.687390808, -25.872445896), align=None)
    extrude(amount=SLOT_COPPER_ENVELOPES_29_DEPTH)


with BuildPart() as body_30:
    # Эскиз1 → Slot_copper_envelopes 30 (new body)
    with BuildSketch(Plane.XY.offset(SLOT_COPPER_ENVELOPES_START)):
        Polygon((58.706302779, -25.794166163), (65.702985673, -29.041604592), (66.994542258, -25.92351117), (59.750854603, -23.272394985), align=None)
    extrude(amount=SLOT_COPPER_ENVELOPES_30_DEPTH)


with BuildPart() as body_31:
    # Эскиз1 → Slot_copper_envelopes 31 (new body)
    with BuildSketch(Plane.XY.offset(SLOT_COPPER_ENVELOPES_START)):
        Polygon((48.947474119, -21.289450312), (58.350170606, -25.646651387), (59.39472243, -23.124880209), (49.665005554, -19.557176188), align=None)
    extrude(amount=SLOT_COPPER_ENVELOPES_31_DEPTH)


with BuildPart() as body_32:
    # Эскиз1 → Slot_copper_envelopes 32 (new body)
    with BuildSketch(Plane.XY.offset(SLOT_COPPER_ENVELOPES_START)):
        Polygon((61.570876512, -17.910783335), (68.931577586, -20.217189102), (69.805091863, -16.957189438), (62.27733486, -15.274244886), align=None)
    extrude(amount=SLOT_COPPER_ENVELOPES_32_DEPTH)


solid = Compound([part.part, body_2.part, body_3.part, body_4.part, body_5.part, body_6.part, body_7.part, body_8.part, body_9.part, body_10.part, body_11.part, body_12.part, body_13.part, body_14.part, body_15.part, body_16.part, body_17.part, body_18.part, body_19.part, body_20.part, body_21.part, body_22.part, body_23.part, body_24.part, body_25.part, body_26.part, body_27.part, body_28.part, body_29.part, body_30.part, body_31.part, body_32.part])
